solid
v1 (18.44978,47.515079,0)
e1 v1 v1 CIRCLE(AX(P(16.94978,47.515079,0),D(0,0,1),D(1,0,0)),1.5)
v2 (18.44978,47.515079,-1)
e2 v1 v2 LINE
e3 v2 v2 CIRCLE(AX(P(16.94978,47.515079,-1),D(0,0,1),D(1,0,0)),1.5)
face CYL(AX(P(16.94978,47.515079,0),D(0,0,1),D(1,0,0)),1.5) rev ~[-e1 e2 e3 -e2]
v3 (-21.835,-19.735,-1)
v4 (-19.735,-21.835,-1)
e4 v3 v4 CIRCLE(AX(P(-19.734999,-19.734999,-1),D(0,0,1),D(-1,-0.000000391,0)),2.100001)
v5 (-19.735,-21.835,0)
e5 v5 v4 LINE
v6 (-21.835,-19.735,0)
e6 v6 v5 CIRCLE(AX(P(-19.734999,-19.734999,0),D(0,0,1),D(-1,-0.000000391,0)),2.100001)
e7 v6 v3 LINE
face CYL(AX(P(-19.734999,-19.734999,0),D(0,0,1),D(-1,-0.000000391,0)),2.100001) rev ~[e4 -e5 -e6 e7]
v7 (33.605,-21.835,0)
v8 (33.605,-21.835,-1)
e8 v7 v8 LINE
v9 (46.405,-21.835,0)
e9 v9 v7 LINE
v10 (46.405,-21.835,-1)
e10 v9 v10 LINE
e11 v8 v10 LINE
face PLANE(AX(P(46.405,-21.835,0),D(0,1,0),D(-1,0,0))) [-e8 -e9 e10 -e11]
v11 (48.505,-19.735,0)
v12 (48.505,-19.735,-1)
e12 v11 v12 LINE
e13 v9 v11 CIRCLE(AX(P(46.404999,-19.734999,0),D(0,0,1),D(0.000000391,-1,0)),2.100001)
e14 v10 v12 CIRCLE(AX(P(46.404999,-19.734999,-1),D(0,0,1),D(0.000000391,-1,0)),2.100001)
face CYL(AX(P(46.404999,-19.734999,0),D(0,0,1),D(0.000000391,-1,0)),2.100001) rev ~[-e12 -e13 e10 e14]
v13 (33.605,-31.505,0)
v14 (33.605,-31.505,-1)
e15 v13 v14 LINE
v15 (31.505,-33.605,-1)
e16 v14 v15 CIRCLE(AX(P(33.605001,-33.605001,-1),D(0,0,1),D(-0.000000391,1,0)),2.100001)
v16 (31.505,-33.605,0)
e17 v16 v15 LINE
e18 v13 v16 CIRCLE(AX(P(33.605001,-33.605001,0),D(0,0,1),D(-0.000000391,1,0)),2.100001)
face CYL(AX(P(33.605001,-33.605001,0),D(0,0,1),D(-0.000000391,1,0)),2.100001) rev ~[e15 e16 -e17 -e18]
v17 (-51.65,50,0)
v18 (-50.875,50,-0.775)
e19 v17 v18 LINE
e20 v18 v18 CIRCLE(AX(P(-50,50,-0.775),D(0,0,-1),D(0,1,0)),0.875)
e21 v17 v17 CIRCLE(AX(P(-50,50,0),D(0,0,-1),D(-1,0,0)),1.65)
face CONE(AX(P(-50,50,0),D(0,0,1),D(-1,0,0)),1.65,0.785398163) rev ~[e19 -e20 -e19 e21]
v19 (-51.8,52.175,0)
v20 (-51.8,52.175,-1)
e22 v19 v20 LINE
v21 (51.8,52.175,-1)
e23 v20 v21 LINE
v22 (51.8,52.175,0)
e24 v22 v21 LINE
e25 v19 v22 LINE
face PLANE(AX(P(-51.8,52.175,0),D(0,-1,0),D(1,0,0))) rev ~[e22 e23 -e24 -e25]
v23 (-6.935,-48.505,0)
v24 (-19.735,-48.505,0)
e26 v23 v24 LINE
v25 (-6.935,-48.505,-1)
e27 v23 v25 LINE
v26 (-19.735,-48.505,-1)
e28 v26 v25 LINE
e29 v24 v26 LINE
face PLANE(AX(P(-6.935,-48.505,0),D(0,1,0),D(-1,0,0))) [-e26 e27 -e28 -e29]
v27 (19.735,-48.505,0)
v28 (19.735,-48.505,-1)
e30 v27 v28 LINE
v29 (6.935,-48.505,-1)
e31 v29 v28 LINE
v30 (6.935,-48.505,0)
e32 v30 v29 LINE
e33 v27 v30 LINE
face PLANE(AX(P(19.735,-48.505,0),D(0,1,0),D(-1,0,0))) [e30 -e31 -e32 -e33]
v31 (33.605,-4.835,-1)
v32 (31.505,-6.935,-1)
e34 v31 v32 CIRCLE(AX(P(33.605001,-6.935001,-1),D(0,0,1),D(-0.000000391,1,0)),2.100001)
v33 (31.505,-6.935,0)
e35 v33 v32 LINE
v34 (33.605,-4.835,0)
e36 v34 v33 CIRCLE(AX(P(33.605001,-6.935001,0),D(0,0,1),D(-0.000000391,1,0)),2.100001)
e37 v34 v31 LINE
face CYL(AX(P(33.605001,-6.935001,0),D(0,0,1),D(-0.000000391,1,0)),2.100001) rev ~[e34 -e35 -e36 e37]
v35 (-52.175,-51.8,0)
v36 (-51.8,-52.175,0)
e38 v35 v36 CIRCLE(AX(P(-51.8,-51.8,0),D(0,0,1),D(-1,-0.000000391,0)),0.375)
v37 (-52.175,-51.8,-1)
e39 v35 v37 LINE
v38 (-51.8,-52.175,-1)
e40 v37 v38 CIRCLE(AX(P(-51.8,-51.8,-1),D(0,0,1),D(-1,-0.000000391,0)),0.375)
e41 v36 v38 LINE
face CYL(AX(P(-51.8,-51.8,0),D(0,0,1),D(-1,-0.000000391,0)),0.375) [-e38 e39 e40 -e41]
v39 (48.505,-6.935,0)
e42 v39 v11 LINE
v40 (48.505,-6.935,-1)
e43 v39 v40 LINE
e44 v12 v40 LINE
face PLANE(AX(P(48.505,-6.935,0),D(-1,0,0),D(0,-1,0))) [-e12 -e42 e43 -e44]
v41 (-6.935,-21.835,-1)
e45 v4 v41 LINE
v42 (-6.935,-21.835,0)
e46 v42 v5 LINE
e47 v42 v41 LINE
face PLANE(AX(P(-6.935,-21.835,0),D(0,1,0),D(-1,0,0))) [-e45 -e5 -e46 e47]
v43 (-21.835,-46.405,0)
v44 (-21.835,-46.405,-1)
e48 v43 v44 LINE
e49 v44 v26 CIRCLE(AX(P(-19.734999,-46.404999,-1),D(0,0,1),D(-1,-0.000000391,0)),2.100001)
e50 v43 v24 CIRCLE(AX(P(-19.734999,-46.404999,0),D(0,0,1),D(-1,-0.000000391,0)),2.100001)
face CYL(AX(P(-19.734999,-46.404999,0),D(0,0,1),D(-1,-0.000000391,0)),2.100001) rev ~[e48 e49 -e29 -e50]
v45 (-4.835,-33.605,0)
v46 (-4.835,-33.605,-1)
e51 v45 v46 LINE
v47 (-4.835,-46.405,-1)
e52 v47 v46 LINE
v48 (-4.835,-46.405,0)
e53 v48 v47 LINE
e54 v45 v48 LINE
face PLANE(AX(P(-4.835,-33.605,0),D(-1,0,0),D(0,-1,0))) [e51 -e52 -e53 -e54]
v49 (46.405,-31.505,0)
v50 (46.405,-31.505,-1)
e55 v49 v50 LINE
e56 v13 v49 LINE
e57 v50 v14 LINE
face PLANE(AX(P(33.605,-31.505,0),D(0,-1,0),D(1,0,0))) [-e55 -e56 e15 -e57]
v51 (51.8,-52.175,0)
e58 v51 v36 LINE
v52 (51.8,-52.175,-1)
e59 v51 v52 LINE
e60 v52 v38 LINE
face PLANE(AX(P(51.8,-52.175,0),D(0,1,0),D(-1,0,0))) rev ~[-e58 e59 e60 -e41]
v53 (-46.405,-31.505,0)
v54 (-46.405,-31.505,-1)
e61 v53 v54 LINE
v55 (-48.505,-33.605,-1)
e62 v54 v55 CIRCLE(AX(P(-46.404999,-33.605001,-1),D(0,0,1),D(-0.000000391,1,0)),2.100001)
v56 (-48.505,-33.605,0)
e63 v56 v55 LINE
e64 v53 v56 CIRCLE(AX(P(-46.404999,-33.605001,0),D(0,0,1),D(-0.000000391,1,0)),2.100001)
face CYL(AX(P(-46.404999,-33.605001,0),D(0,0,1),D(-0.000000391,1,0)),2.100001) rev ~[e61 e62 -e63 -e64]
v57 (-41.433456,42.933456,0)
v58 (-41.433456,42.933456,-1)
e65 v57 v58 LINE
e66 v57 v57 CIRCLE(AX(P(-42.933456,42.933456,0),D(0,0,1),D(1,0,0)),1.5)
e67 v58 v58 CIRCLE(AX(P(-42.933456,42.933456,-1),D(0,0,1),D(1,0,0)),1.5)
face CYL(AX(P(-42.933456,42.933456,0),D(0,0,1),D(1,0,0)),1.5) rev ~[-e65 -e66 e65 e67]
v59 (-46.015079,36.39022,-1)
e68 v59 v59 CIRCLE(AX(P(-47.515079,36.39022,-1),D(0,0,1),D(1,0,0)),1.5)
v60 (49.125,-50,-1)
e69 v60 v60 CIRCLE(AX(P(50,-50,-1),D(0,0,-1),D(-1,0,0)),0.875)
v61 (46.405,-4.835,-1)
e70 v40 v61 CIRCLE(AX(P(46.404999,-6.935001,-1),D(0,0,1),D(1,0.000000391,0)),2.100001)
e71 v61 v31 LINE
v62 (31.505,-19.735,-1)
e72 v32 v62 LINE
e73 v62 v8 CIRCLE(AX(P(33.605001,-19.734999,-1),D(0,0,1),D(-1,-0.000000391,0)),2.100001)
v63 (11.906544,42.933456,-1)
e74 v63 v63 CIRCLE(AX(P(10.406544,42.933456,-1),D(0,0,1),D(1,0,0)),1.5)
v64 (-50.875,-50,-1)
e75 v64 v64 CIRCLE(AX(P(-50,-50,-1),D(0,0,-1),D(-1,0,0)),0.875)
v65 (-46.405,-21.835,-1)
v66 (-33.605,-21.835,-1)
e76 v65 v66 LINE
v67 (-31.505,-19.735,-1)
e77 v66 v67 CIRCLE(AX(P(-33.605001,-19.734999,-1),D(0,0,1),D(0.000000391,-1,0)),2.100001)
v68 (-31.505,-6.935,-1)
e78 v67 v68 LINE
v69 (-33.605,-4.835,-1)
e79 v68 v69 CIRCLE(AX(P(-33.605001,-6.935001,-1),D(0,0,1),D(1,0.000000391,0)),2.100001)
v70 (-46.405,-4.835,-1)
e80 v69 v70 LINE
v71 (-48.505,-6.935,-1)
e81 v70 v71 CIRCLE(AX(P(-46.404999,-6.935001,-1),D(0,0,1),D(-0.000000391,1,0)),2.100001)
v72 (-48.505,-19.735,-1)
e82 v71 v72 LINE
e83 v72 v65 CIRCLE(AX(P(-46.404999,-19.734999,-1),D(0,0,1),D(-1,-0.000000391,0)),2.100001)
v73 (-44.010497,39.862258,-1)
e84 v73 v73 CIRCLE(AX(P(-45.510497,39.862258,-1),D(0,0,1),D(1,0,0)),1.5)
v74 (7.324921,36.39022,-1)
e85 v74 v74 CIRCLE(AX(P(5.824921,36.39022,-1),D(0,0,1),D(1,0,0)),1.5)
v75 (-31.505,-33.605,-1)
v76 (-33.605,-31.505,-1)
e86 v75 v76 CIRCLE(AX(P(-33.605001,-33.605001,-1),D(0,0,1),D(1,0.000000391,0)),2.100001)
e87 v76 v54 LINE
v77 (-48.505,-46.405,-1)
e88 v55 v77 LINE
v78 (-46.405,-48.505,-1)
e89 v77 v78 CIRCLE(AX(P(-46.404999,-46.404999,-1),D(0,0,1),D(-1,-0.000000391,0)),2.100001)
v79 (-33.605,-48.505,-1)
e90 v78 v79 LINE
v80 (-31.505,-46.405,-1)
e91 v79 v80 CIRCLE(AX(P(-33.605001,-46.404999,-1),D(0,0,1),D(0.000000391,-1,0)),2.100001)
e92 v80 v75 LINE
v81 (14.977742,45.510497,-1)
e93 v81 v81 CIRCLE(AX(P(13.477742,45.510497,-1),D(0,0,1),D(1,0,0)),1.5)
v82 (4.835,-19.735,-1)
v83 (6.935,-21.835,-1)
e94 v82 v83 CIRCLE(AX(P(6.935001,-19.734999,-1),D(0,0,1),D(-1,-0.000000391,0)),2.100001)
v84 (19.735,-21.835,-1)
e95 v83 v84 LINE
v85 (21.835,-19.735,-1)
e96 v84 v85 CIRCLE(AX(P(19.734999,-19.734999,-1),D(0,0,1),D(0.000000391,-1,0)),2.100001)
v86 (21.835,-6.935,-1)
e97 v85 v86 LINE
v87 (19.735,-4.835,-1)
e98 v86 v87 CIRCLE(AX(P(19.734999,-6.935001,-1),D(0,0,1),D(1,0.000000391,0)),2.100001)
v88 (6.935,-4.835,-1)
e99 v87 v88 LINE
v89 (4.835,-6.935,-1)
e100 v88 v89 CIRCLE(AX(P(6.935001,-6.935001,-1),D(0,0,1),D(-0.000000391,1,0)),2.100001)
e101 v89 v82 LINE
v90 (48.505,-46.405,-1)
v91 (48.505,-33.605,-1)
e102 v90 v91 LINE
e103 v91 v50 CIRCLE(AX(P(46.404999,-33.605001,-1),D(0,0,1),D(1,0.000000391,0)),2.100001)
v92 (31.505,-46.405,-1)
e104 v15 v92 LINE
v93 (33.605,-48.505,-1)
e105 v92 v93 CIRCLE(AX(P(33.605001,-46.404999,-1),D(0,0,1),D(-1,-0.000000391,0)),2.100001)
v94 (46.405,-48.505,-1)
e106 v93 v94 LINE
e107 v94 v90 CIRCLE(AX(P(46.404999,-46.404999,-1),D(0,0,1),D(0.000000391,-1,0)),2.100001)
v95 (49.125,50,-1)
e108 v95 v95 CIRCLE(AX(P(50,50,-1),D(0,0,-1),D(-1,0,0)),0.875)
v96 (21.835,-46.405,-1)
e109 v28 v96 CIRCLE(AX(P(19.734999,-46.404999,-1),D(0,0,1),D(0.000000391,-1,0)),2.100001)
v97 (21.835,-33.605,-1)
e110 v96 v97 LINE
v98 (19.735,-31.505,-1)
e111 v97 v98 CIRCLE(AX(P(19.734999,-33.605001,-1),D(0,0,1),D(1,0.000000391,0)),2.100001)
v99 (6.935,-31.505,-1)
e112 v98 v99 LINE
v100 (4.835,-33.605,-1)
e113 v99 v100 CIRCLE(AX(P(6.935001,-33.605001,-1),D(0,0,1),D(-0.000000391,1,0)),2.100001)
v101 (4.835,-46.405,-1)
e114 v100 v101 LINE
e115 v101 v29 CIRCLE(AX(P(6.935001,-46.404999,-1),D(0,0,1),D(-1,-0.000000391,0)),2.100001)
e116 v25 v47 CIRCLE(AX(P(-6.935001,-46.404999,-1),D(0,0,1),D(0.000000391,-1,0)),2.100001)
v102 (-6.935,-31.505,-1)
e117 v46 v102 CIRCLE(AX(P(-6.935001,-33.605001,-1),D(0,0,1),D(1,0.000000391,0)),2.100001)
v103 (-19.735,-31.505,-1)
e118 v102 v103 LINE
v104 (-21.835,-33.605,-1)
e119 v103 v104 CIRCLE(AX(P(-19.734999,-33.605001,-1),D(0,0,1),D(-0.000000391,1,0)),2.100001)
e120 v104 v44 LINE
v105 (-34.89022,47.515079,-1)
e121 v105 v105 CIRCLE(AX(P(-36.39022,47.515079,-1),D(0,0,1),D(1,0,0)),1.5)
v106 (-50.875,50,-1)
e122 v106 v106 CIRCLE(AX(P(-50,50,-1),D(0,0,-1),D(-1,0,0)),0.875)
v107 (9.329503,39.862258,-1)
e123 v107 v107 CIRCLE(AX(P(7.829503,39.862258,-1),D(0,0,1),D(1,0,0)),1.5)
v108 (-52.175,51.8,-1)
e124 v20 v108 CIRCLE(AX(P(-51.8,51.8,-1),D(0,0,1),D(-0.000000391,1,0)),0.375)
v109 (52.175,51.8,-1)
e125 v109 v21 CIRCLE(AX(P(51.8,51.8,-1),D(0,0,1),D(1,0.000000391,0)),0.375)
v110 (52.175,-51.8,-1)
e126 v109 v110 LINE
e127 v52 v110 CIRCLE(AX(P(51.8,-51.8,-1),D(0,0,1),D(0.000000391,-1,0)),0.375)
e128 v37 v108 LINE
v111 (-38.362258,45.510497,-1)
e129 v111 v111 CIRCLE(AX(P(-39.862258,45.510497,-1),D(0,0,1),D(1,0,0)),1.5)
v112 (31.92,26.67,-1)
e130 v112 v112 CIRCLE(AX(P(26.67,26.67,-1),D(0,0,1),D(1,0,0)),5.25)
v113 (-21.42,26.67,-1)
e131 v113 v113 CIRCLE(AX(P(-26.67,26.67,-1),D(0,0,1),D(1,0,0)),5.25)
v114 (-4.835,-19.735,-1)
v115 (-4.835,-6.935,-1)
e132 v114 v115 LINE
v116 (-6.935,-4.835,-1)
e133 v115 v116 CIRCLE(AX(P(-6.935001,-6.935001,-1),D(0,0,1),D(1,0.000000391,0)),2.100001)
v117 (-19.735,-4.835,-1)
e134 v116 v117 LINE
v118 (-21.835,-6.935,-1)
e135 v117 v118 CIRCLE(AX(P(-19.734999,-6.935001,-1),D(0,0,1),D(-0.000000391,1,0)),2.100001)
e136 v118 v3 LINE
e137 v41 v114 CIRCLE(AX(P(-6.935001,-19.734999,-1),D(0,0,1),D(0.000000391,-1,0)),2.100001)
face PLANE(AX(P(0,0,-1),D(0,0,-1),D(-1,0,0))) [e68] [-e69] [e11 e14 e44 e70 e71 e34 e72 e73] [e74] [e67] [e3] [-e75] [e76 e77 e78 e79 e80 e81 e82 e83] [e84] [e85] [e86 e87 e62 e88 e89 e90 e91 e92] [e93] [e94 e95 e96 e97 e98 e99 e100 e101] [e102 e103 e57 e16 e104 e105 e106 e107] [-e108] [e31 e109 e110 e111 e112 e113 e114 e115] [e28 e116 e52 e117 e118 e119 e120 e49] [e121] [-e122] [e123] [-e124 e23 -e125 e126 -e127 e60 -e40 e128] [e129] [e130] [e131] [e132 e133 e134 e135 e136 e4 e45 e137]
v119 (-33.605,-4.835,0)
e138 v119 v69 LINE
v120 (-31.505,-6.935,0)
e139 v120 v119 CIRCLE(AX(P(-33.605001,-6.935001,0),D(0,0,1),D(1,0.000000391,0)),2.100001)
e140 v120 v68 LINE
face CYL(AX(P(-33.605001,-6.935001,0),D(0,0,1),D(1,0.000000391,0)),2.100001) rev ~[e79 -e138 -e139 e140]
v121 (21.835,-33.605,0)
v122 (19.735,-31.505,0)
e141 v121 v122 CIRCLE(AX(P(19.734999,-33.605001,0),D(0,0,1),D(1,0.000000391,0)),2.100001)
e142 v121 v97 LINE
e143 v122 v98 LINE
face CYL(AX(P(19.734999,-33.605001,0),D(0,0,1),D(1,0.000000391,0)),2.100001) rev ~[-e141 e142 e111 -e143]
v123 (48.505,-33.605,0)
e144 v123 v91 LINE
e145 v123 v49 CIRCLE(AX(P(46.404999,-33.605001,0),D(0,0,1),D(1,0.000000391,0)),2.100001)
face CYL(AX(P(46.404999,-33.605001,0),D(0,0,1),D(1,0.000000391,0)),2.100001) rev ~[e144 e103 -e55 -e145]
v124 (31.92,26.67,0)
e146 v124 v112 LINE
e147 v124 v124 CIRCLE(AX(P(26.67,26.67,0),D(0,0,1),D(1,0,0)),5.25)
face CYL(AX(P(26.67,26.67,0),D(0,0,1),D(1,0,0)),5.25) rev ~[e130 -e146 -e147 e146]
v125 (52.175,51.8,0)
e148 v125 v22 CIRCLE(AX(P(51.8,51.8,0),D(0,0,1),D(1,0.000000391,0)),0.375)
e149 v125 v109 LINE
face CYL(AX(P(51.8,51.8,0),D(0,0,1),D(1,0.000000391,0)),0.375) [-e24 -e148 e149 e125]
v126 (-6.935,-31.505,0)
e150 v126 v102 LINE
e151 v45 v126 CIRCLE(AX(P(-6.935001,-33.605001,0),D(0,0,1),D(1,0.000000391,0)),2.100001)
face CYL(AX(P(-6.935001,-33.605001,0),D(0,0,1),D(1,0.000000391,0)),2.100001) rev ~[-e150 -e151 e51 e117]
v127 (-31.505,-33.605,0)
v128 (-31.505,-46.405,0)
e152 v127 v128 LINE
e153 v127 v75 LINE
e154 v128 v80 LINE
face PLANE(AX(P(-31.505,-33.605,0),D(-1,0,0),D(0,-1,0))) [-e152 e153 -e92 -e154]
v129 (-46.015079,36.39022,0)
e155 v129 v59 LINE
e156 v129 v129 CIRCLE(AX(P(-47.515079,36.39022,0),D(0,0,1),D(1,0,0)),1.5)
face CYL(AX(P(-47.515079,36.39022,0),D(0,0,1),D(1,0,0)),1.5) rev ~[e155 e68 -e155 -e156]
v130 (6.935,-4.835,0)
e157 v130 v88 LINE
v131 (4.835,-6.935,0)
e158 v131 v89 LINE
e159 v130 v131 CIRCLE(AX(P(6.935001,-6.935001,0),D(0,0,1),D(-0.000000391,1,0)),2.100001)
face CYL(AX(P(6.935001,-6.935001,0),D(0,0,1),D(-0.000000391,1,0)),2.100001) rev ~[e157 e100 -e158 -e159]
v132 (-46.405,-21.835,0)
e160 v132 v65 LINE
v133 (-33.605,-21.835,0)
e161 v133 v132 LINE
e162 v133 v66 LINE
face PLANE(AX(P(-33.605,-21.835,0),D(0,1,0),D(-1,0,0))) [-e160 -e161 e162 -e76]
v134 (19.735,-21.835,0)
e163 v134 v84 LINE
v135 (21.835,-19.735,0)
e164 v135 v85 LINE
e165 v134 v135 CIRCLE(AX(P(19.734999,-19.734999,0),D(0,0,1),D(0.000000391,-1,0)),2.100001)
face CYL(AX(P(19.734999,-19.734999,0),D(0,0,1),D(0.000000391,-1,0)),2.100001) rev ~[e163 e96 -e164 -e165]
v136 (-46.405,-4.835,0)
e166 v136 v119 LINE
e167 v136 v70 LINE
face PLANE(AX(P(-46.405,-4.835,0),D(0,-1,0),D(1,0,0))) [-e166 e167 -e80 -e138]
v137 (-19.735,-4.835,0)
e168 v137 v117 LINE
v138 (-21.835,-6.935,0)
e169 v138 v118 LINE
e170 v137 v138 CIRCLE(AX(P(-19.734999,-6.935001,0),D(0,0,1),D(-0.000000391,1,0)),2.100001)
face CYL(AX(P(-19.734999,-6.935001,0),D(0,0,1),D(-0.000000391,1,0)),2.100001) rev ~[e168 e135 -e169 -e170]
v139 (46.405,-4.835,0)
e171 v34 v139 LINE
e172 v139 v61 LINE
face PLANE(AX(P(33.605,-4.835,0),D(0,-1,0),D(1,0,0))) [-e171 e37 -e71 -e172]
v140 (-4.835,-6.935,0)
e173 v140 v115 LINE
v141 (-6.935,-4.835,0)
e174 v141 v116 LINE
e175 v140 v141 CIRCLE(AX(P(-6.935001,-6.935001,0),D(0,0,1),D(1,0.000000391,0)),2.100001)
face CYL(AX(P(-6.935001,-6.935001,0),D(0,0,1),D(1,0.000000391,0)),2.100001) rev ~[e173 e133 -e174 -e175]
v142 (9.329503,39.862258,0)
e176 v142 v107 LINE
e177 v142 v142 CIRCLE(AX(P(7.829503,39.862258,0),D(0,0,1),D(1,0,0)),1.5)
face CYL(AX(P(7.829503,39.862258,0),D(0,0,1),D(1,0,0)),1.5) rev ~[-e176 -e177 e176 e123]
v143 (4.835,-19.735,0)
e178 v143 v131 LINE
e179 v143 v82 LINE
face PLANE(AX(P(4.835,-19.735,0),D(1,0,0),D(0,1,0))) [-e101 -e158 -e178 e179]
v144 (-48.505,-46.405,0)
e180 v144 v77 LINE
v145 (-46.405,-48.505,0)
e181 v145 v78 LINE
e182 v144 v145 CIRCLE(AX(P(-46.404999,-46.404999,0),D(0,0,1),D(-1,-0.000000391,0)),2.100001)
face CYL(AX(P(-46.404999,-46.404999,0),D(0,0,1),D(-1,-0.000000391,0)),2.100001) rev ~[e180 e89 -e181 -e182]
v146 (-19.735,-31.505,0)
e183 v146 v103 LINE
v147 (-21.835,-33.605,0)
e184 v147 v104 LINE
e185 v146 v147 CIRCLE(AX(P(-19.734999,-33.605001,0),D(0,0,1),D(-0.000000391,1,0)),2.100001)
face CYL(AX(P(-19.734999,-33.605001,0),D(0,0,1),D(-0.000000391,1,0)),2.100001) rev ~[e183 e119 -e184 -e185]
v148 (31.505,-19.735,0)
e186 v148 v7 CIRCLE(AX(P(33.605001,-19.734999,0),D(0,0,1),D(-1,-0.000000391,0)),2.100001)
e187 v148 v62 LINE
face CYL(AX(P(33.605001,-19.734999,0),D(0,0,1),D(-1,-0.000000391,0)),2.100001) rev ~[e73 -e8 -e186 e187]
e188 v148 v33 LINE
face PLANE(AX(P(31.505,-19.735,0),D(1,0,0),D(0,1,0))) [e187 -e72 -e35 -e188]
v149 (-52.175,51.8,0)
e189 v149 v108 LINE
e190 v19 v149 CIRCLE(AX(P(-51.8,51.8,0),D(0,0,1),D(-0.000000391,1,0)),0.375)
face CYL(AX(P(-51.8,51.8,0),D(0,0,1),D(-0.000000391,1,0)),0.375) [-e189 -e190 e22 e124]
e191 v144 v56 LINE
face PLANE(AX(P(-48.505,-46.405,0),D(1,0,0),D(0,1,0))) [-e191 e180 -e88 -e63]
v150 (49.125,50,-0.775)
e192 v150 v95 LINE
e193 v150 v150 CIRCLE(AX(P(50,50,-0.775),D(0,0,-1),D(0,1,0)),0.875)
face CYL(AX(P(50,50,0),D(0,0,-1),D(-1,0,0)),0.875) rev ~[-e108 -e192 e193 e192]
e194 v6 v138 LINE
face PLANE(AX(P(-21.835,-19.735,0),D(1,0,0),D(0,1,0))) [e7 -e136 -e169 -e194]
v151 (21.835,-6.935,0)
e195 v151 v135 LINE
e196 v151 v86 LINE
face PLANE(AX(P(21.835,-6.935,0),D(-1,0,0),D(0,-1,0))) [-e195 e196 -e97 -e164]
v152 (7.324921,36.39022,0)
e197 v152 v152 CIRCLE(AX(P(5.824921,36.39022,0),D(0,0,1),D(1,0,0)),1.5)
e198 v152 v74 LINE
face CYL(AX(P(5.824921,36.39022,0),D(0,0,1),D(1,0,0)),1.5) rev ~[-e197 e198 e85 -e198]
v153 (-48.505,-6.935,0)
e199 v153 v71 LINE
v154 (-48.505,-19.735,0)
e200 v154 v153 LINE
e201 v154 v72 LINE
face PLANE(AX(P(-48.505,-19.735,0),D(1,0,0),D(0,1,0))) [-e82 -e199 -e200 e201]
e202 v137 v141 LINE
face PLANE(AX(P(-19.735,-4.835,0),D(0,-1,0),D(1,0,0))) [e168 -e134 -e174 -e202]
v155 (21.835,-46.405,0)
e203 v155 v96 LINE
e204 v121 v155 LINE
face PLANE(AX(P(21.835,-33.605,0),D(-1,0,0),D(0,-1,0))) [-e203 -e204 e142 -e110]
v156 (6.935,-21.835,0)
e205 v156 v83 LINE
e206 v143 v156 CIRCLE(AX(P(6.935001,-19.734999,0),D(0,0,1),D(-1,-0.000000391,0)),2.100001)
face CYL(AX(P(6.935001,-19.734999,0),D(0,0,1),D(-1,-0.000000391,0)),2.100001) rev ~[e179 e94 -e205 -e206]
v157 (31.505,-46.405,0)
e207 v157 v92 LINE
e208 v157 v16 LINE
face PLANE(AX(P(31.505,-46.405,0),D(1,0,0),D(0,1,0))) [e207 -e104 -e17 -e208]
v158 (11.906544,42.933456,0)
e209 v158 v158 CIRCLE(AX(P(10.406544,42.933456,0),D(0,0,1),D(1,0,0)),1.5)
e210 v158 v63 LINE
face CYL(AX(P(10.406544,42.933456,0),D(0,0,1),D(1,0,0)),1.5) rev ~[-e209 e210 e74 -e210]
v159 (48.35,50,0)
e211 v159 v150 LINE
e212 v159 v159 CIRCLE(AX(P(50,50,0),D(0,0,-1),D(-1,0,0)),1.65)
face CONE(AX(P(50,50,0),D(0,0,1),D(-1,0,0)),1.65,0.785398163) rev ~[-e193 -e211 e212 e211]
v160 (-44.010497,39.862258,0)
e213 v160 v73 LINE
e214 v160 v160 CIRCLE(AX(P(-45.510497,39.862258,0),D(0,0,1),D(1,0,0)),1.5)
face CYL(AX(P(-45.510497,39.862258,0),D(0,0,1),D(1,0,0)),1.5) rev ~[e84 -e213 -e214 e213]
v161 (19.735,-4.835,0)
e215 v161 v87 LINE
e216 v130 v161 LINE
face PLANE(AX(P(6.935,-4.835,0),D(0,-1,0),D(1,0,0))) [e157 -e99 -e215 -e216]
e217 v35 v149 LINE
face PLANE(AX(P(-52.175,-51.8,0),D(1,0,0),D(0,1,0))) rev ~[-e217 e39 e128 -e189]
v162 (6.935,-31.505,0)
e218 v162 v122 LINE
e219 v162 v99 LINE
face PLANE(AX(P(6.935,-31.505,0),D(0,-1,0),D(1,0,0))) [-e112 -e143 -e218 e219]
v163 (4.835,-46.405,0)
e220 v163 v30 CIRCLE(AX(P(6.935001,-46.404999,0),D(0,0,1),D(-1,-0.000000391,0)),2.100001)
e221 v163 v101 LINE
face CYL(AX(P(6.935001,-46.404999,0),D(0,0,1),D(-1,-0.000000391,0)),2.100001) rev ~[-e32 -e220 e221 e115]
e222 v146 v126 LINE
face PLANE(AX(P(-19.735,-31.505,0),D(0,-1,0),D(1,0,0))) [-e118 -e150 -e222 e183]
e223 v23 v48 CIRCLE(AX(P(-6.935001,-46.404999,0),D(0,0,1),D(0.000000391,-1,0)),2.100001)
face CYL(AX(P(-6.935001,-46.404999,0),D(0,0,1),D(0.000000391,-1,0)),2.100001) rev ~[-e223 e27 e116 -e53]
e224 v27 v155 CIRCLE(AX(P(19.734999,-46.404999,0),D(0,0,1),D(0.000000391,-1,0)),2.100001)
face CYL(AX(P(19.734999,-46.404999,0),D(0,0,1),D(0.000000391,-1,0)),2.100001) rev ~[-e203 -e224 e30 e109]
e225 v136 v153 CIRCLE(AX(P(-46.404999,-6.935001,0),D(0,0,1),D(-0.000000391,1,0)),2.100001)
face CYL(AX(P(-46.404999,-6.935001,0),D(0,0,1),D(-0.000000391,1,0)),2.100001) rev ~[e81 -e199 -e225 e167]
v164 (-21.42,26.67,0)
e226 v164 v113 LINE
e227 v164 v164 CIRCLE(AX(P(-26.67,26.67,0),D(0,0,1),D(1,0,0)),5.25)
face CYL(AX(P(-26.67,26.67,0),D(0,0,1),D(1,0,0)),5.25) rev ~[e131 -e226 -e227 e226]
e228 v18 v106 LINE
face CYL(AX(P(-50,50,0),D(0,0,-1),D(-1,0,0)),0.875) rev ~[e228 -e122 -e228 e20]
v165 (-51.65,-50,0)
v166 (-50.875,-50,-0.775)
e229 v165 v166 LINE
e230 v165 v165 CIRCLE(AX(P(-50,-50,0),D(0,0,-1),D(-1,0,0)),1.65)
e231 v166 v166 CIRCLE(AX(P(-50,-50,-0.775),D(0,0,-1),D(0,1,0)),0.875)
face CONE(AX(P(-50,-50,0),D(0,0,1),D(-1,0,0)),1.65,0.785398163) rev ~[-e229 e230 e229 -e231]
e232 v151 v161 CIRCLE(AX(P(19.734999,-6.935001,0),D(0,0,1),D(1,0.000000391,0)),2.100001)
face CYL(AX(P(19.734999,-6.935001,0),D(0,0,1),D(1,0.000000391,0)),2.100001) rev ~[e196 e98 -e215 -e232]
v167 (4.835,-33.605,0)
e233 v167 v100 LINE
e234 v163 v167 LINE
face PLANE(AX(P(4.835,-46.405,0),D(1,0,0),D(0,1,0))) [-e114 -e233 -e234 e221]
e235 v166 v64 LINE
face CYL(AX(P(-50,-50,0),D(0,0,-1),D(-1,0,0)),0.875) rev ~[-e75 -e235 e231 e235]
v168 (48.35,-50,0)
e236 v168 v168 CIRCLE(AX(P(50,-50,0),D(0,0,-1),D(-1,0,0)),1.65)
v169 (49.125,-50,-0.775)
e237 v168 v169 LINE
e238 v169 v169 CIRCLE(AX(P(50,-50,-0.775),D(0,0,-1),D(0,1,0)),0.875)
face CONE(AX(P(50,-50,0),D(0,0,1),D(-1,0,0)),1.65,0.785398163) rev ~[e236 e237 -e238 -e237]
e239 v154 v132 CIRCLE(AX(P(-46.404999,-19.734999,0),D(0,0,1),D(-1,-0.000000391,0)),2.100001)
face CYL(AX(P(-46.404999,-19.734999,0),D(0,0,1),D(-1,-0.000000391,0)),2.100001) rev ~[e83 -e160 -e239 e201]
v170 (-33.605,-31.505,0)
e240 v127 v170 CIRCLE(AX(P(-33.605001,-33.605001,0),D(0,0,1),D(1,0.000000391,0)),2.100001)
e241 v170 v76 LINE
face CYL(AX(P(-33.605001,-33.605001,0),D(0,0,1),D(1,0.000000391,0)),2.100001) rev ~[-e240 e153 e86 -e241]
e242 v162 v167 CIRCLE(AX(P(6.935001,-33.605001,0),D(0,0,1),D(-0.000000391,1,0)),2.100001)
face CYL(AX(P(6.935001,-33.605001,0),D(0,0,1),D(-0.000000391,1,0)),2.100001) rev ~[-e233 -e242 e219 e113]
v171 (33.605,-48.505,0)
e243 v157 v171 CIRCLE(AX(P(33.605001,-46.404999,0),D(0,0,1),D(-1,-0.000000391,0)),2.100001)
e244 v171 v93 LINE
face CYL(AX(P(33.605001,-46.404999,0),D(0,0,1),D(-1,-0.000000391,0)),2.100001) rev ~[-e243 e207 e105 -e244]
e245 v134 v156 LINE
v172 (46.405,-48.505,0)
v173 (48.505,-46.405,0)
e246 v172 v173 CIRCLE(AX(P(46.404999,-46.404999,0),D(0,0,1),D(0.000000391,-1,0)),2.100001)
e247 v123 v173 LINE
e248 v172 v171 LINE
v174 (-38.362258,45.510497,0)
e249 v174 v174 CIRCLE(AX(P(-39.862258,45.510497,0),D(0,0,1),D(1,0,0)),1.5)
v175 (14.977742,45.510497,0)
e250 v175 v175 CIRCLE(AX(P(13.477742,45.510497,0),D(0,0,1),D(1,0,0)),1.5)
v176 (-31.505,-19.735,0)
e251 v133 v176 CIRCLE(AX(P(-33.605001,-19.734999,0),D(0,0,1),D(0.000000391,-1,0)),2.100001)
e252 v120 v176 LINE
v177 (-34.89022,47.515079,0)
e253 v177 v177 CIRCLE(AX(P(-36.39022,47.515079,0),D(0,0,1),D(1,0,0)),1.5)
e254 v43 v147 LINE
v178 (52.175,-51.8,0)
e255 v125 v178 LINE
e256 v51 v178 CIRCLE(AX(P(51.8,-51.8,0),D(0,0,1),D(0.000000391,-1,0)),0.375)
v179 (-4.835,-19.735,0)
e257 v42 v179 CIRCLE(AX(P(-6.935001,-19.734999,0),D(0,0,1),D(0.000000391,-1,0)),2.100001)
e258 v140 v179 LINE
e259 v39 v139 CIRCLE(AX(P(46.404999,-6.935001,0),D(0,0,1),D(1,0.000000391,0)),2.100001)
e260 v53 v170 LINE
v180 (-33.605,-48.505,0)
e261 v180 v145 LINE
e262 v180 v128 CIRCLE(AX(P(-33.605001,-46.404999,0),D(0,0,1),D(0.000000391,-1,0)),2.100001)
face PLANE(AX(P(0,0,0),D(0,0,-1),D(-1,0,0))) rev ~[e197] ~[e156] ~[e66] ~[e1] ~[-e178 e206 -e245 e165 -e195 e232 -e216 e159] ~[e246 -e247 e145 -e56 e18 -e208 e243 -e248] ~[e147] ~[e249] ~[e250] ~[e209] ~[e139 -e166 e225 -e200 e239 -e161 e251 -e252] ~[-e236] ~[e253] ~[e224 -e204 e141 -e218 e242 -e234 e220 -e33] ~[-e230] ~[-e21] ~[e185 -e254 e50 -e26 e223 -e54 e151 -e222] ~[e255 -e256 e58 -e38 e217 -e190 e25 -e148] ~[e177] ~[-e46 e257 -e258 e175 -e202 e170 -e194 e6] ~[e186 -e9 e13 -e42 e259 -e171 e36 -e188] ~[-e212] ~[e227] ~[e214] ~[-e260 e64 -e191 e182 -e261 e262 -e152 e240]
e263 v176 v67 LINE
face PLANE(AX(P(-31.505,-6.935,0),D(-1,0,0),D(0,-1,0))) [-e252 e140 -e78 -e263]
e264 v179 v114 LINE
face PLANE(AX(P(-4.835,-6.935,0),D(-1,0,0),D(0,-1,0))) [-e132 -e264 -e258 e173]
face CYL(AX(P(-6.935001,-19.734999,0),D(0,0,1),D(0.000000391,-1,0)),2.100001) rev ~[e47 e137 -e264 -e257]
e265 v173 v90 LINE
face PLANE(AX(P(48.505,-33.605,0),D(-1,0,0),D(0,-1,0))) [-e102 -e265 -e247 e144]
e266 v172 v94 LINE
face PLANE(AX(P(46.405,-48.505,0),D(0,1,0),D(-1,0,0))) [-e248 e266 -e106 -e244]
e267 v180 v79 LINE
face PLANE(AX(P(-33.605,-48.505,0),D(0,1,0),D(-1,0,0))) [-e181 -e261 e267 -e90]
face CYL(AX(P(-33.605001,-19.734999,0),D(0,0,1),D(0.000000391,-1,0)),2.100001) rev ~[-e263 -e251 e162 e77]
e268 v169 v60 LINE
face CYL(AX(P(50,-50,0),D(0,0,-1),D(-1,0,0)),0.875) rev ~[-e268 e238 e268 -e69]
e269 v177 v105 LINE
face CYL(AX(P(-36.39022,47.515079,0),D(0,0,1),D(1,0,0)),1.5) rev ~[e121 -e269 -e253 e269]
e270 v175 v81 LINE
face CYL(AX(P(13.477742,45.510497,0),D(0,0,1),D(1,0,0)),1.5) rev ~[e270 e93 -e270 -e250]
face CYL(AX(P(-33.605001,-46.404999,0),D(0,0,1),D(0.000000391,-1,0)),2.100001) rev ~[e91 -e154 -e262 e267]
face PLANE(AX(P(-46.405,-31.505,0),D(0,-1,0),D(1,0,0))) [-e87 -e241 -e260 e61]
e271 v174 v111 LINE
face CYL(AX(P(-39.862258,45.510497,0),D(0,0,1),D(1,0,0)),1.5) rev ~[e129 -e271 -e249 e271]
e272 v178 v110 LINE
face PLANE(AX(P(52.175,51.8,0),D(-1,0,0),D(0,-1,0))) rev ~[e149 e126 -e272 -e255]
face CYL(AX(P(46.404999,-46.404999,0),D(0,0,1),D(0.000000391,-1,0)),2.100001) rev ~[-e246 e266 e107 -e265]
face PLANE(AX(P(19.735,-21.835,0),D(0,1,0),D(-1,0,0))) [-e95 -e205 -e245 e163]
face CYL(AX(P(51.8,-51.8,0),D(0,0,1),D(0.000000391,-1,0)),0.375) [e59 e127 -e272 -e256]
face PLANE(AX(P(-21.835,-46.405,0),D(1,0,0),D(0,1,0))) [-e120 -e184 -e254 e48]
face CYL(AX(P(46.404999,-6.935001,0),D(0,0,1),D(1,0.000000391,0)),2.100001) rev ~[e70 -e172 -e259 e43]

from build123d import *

# Parameters (mm, degrees)
PAD_DEPTH        = 1
POCKET_DEPTH     = 0.001
HOLE_D           = 1.75
HOLE_CSINK_D     = 3.3
HOLE_CSINK_ANGLE = 90
SKETCH025_R      = 5.25
SKETCH025_R_2    = 1.5
POCKET007_DEPTH  = 5
POCKET008_DEPTH  = 1.001


with BuildPart() as part:
    # Sketch → Pad (new body)
    with BuildSketch(Plane.XY):
        with BuildLine():
            Line((-51.8, 52.175), (51.8, 52.175))
            ThreePointArc((52.175, 51.8), (52.065165, 52.065165), (51.8, 52.175))
            Line((52.175, 51.8), (52.175, -51.8))
            ThreePointArc((51.8, -52.175), (52.065165, -52.065165), (52.175, -51.8))
            Line((51.8, -52.175), (-51.8, -52.175))
            ThreePointArc((-52.175, -51.8), (-52.065165, -52.065165), (-51.8, -52.175))
            Line((-52.175, -51.8), (-52.175, 51.8))
            ThreePointArc((-51.8, 52.175), (-52.065165, 52.065165), (-52.175, 51.8))
        make_face()
    extrude(amount=-PAD_DEPTH)

    # Sketch002 → Pocket (cut, through all)
    with BuildSketch(Plane.XY.offset(-4.8)):
        with BuildLine():
            Line((-45, 50.175), (45, 50.175))
            ThreePointArc((45, 50.175), (45.353553, 50.321447), (45.5, 50.675))
            ThreePointArc((45.5, 50.675), (45.353553, 51.028553), (45, 51.175))
            Line((-45, 51.175), (45, 51.175))
            ThreePointArc((-45, 51.175), (-45.353553, 51.028553), (-45.5, 50.675))
            ThreePointArc((-45.5, 50.675), (-45.353553, 50.321447), (-45, 50.175))
        make_face()
        with BuildLine():
            Line((-45, -51.175), (45, -51.175))
            ThreePointArc((45, -51.175), (45.353553, -51.028553), (45.5, -50.675))
            ThreePointArc((45.5, -50.675), (45.353553, -50.321447), (45, -50.175))
            Line((-45, -50.175), (45, -50.175))
            ThreePointArc((-45, -50.175), (-45.353553, -50.321447), (-45.5, -50.675))
            ThreePointArc((-45.5, -50.675), (-45.353553, -51.028553), (-45, -51.175))
        make_face()
        with BuildLine():
            Line((51.175, -45), (51.175, 45))
            ThreePointArc((51.175, 45), (51.028553, 45.353553), (50.675, 45.5))
            ThreePointArc((50.675, 45.5), (50.321447, 45.353553), (50.175, 45))
            Line((50.175, -45), (50.175, 45))
            ThreePointArc((50.175, -45), (50.321447, -45.353553), (50.675, -45.5))
            ThreePointArc((50.675, -45.5), (51.028553, -45.353553), (51.175, -45))
        make_face()
        with BuildLine():
            Line((-50.175, -45), (-50.175, 45))
            ThreePointArc((-50.175, 45), (-50.321447, 45.353553), (-50.675, 45.5))
            ThreePointArc((-50.675, 45.5), (-51.028553, 45.353553), (-51.175, 45))
            Line((-51.175, -45), (-51.175, 45))
            ThreePointArc((-51.175, -45), (-51.028553, -45.353553), (-50.675, -45.5))
            ThreePointArc((-50.675, -45.5), (-50.321447, -45.353553), (-50.175, -45))
        make_face()
    extrude(amount=-POCKET_DEPTH, mode=Mode.SUBTRACT)

    # Hole (through all)
    with Locations(Plane.XY):
        with Locations((-50, 50), (50, 50), (50, -50), (-50, -50)):
            CounterSinkHole(HOLE_D / 2, HOLE_CSINK_D / 2, counter_sink_angle=HOLE_CSINK_ANGLE)

    # Sketch025 → Pocket007 (cut)
    with BuildSketch(Plane.XY):
        with Locations((-26.67, 26.67)):
            Circle(SKETCH025_R)
        with Locations((26.67, 26.67)):
            Circle(SKETCH025_R)
        with Locations((-47.515079, 36.39022)):
            Circle(SKETCH025_R_2)
        with Locations((-45.510497, 39.862258)):
            Circle(SKETCH025_R_2)
        with Locations((-42.933456, 42.933456)):
            Circle(SKETCH025_R_2)
        with Locations((-39.862258, 45.510497)):
            Circle(SKETCH025_R_2)
        with Locations((-36.39022, 47.515079)):
            Circle(SKETCH025_R_2)
        with Locations((5.824921, 36.39022)):
            Circle(SKETCH025_R_2)
        with Locations((7.829503, 39.862258)):
            Circle(SKETCH025_R_2)
        with Locations((10.406544, 42.933456)):
            Circle(SKETCH025_R_2)
        with Locations((13.477742, 45.510497)):
            Circle(SKETCH025_R_2)
        with Locations((16.94978, 47.515079)):
            Circle(SKETCH025_R_2)
    extrude(amount=-POCKET007_DEPTH, mode=Mode.SUBTRACT)

    # Sketch023 → Pocket008 (cut, through all)
    with BuildSketch(Plane.XY):
        with BuildLine():
            Line((-48.505, -19.735), (-48.505, -6.935))
            ThreePointArc((-46.405, -4.835), (-47.889924, -5.450076), (-48.505, -6.935))
            Line((-46.405, -4.835), (-33.605, -4.835))
            ThreePointArc((-31.505, -6.935), (-32.120076, -5.450076), (-33.605, -4.835))
            Line((-31.505, -6.935), (-31.505, -19.735))
            ThreePointArc((-33.605, -21.835), (-32.120076, -21.219924), (-31.505, -19.735))
            Line((-33.605, -21.835), (-46.405, -21.835))
            ThreePointArc((-48.505, -19.735), (-47.889924, -21.219924), (-46.405, -21.835))
        make_face()
        with BuildLine():
            Line((-21.835, -19.735), (-21.835, -6.935))
            ThreePointArc((-19.735, -4.835), (-21.219924, -5.450076), (-21.835, -6.935))
            Line((-19.735, -4.835), (-6.935, -4.835))
            ThreePointArc((-4.835, -6.935), (-5.450076, -5.450076), (-6.935, -4.835))
            Line((-4.835, -6.935), (-4.835, -19.735))
            ThreePointArc((-6.935, -21.835), (-5.450076, -21.219924), (-4.835, -19.735))
            Line((-6.935, -21.835), (-19.735, -21.835))
            ThreePointArc((-21.835, -19.735), (-21.219924, -21.219924), (-19.735, -21.835))
        make_face()
        with BuildLine():
            Line((4.835, -19.735), (4.835, -6.935))
            ThreePointArc((6.935, -4.835), (5.450076, -5.450076), (4.835, -6.935))
            Line((6.935, -4.835), (19.735, -4.835))
            ThreePointArc((21.835, -6.935), (21.219924, -5.450076), (19.735, -4.835))
            Line((21.835, -6.935), (21.835, -19.735))
            ThreePointArc((19.735, -21.835), (21.219924, -21.219924), (21.835, -19.735))
            Line((19.735, -21.835), (6.935, -21.835))
            ThreePointArc((4.835, -19.735), (5.450076, -21.219924), (6.935, -21.835))
        make_face()
        with BuildLine():
            Line((31.505, -19.735), (31.505, -6.935))
            ThreePointArc((33.605, -4.835), (32.120076, -5.450076), (31.505, -6.935))
            Line((33.605, -4.835), (46.405, -4.835))
            ThreePointArc((48.505, -6.935), (47.889924, -5.450076), (46.405, -4.835))
            Line((48.505, -6.935), (48.505, -19.735))
            ThreePointArc((46.405, -21.835), (47.889924, -21.219924), (48.505, -19.735))
            Line((46.405, -21.835), (33.605, -21.835))
            ThreePointArc((31.505, -19.735), (32.120076, -21.219924), (33.605, -21.835))
        make_face()
        with BuildLine():
            Line((31.505, -46.405), (31.505, -33.605))
            ThreePointArc((33.605, -31.505), (32.120076, -32.120076), (31.505, -33.605))
            Line((33.605, -31.505), (46.405, -31.505))
            ThreePointArc((48.505, -33.605), (47.889924, -32.120076), (46.405, -31.505))
            Line((48.505, -33.605), (48.505, -46.405))
            ThreePointArc((46.405, -48.505), (47.889924, -47.889924), (48.505, -46.405))
            Line((46.405, -48.505), (33.605, -48.505))
            ThreePointArc((31.505, -46.405), (32.120076, -47.889924), (33.605, -48.505))
        make_face()
        with BuildLine():
            Line((4.835, -46.405), (4.835, -33.605))
            ThreePointArc((6.935, -31.505), (5.450076, -32.120076), (4.835, -33.605))
            Line((6.935, -31.505), (19.735, -31.505))
            ThreePointArc((21.835, -33.605), (21.219924, -32.120076), (19.735, -31.505))
            Line((21.835, -33.605), (21.835, -46.405))
            ThreePointArc((19.735, -48.505), (21.219924, -47.889924), (21.835, -46.405))
            Line((19.735, -48.505), (6.935, -48.505))
            ThreePointArc((4.835, -46.405), (5.450076, -47.889924), (6.935, -48.505))
        make_face()
        with BuildLine():
            Line((-21.835, -46.405), (-21.835, -33.605))
            ThreePointArc((-19.735, -31.505), (-21.219924, -32.120076), (-21.835, -33.605))
            Line((-19.735, -31.505), (-6.935, -31.505))
            ThreePointArc((-4.835, -33.605), (-5.450076, -32.120076), (-6.935, -31.505))
            Line((-4.835, -33.605), (-4.835, -46.405))
            ThreePointArc((-6.935, -48.505), (-5.450076, -47.889924), (-4.835, -46.405))
            Line((-6.935, -48.505), (-19.735, -48.505))
            ThreePointArc((-21.835, -46.405), (-21.219924, -47.889924), (-19.735, -48.505))
        make_face()
        with BuildLine():
            Line((-48.505, -46.405), (-48.505, -33.605))
            ThreePointArc((-46.405, -31.505), (-47.889924, -32.120076), (-48.505, -33.605))
            Line((-46.405, -31.505), (-33.605, -31.505))
            ThreePointArc((-31.505, -33.605), (-32.120076, -32.120076), (-33.605, -31.505))
            Line((-31.505, -33.605), (-31.505, -46.405))
            ThreePointArc((-33.605, -48.505), (-32.120076, -47.889924), (-31.505, -46.405))
            Line((-33.605, -48.505), (-46.405, -48.505))
            ThreePointArc((-48.505, -46.405), (-47.889924, -47.889924), (-46.405, -48.505))
        make_face()
    extrude(amount=-POCKET008_DEPTH, mode=Mode.SUBTRACT)


solid = part.part
